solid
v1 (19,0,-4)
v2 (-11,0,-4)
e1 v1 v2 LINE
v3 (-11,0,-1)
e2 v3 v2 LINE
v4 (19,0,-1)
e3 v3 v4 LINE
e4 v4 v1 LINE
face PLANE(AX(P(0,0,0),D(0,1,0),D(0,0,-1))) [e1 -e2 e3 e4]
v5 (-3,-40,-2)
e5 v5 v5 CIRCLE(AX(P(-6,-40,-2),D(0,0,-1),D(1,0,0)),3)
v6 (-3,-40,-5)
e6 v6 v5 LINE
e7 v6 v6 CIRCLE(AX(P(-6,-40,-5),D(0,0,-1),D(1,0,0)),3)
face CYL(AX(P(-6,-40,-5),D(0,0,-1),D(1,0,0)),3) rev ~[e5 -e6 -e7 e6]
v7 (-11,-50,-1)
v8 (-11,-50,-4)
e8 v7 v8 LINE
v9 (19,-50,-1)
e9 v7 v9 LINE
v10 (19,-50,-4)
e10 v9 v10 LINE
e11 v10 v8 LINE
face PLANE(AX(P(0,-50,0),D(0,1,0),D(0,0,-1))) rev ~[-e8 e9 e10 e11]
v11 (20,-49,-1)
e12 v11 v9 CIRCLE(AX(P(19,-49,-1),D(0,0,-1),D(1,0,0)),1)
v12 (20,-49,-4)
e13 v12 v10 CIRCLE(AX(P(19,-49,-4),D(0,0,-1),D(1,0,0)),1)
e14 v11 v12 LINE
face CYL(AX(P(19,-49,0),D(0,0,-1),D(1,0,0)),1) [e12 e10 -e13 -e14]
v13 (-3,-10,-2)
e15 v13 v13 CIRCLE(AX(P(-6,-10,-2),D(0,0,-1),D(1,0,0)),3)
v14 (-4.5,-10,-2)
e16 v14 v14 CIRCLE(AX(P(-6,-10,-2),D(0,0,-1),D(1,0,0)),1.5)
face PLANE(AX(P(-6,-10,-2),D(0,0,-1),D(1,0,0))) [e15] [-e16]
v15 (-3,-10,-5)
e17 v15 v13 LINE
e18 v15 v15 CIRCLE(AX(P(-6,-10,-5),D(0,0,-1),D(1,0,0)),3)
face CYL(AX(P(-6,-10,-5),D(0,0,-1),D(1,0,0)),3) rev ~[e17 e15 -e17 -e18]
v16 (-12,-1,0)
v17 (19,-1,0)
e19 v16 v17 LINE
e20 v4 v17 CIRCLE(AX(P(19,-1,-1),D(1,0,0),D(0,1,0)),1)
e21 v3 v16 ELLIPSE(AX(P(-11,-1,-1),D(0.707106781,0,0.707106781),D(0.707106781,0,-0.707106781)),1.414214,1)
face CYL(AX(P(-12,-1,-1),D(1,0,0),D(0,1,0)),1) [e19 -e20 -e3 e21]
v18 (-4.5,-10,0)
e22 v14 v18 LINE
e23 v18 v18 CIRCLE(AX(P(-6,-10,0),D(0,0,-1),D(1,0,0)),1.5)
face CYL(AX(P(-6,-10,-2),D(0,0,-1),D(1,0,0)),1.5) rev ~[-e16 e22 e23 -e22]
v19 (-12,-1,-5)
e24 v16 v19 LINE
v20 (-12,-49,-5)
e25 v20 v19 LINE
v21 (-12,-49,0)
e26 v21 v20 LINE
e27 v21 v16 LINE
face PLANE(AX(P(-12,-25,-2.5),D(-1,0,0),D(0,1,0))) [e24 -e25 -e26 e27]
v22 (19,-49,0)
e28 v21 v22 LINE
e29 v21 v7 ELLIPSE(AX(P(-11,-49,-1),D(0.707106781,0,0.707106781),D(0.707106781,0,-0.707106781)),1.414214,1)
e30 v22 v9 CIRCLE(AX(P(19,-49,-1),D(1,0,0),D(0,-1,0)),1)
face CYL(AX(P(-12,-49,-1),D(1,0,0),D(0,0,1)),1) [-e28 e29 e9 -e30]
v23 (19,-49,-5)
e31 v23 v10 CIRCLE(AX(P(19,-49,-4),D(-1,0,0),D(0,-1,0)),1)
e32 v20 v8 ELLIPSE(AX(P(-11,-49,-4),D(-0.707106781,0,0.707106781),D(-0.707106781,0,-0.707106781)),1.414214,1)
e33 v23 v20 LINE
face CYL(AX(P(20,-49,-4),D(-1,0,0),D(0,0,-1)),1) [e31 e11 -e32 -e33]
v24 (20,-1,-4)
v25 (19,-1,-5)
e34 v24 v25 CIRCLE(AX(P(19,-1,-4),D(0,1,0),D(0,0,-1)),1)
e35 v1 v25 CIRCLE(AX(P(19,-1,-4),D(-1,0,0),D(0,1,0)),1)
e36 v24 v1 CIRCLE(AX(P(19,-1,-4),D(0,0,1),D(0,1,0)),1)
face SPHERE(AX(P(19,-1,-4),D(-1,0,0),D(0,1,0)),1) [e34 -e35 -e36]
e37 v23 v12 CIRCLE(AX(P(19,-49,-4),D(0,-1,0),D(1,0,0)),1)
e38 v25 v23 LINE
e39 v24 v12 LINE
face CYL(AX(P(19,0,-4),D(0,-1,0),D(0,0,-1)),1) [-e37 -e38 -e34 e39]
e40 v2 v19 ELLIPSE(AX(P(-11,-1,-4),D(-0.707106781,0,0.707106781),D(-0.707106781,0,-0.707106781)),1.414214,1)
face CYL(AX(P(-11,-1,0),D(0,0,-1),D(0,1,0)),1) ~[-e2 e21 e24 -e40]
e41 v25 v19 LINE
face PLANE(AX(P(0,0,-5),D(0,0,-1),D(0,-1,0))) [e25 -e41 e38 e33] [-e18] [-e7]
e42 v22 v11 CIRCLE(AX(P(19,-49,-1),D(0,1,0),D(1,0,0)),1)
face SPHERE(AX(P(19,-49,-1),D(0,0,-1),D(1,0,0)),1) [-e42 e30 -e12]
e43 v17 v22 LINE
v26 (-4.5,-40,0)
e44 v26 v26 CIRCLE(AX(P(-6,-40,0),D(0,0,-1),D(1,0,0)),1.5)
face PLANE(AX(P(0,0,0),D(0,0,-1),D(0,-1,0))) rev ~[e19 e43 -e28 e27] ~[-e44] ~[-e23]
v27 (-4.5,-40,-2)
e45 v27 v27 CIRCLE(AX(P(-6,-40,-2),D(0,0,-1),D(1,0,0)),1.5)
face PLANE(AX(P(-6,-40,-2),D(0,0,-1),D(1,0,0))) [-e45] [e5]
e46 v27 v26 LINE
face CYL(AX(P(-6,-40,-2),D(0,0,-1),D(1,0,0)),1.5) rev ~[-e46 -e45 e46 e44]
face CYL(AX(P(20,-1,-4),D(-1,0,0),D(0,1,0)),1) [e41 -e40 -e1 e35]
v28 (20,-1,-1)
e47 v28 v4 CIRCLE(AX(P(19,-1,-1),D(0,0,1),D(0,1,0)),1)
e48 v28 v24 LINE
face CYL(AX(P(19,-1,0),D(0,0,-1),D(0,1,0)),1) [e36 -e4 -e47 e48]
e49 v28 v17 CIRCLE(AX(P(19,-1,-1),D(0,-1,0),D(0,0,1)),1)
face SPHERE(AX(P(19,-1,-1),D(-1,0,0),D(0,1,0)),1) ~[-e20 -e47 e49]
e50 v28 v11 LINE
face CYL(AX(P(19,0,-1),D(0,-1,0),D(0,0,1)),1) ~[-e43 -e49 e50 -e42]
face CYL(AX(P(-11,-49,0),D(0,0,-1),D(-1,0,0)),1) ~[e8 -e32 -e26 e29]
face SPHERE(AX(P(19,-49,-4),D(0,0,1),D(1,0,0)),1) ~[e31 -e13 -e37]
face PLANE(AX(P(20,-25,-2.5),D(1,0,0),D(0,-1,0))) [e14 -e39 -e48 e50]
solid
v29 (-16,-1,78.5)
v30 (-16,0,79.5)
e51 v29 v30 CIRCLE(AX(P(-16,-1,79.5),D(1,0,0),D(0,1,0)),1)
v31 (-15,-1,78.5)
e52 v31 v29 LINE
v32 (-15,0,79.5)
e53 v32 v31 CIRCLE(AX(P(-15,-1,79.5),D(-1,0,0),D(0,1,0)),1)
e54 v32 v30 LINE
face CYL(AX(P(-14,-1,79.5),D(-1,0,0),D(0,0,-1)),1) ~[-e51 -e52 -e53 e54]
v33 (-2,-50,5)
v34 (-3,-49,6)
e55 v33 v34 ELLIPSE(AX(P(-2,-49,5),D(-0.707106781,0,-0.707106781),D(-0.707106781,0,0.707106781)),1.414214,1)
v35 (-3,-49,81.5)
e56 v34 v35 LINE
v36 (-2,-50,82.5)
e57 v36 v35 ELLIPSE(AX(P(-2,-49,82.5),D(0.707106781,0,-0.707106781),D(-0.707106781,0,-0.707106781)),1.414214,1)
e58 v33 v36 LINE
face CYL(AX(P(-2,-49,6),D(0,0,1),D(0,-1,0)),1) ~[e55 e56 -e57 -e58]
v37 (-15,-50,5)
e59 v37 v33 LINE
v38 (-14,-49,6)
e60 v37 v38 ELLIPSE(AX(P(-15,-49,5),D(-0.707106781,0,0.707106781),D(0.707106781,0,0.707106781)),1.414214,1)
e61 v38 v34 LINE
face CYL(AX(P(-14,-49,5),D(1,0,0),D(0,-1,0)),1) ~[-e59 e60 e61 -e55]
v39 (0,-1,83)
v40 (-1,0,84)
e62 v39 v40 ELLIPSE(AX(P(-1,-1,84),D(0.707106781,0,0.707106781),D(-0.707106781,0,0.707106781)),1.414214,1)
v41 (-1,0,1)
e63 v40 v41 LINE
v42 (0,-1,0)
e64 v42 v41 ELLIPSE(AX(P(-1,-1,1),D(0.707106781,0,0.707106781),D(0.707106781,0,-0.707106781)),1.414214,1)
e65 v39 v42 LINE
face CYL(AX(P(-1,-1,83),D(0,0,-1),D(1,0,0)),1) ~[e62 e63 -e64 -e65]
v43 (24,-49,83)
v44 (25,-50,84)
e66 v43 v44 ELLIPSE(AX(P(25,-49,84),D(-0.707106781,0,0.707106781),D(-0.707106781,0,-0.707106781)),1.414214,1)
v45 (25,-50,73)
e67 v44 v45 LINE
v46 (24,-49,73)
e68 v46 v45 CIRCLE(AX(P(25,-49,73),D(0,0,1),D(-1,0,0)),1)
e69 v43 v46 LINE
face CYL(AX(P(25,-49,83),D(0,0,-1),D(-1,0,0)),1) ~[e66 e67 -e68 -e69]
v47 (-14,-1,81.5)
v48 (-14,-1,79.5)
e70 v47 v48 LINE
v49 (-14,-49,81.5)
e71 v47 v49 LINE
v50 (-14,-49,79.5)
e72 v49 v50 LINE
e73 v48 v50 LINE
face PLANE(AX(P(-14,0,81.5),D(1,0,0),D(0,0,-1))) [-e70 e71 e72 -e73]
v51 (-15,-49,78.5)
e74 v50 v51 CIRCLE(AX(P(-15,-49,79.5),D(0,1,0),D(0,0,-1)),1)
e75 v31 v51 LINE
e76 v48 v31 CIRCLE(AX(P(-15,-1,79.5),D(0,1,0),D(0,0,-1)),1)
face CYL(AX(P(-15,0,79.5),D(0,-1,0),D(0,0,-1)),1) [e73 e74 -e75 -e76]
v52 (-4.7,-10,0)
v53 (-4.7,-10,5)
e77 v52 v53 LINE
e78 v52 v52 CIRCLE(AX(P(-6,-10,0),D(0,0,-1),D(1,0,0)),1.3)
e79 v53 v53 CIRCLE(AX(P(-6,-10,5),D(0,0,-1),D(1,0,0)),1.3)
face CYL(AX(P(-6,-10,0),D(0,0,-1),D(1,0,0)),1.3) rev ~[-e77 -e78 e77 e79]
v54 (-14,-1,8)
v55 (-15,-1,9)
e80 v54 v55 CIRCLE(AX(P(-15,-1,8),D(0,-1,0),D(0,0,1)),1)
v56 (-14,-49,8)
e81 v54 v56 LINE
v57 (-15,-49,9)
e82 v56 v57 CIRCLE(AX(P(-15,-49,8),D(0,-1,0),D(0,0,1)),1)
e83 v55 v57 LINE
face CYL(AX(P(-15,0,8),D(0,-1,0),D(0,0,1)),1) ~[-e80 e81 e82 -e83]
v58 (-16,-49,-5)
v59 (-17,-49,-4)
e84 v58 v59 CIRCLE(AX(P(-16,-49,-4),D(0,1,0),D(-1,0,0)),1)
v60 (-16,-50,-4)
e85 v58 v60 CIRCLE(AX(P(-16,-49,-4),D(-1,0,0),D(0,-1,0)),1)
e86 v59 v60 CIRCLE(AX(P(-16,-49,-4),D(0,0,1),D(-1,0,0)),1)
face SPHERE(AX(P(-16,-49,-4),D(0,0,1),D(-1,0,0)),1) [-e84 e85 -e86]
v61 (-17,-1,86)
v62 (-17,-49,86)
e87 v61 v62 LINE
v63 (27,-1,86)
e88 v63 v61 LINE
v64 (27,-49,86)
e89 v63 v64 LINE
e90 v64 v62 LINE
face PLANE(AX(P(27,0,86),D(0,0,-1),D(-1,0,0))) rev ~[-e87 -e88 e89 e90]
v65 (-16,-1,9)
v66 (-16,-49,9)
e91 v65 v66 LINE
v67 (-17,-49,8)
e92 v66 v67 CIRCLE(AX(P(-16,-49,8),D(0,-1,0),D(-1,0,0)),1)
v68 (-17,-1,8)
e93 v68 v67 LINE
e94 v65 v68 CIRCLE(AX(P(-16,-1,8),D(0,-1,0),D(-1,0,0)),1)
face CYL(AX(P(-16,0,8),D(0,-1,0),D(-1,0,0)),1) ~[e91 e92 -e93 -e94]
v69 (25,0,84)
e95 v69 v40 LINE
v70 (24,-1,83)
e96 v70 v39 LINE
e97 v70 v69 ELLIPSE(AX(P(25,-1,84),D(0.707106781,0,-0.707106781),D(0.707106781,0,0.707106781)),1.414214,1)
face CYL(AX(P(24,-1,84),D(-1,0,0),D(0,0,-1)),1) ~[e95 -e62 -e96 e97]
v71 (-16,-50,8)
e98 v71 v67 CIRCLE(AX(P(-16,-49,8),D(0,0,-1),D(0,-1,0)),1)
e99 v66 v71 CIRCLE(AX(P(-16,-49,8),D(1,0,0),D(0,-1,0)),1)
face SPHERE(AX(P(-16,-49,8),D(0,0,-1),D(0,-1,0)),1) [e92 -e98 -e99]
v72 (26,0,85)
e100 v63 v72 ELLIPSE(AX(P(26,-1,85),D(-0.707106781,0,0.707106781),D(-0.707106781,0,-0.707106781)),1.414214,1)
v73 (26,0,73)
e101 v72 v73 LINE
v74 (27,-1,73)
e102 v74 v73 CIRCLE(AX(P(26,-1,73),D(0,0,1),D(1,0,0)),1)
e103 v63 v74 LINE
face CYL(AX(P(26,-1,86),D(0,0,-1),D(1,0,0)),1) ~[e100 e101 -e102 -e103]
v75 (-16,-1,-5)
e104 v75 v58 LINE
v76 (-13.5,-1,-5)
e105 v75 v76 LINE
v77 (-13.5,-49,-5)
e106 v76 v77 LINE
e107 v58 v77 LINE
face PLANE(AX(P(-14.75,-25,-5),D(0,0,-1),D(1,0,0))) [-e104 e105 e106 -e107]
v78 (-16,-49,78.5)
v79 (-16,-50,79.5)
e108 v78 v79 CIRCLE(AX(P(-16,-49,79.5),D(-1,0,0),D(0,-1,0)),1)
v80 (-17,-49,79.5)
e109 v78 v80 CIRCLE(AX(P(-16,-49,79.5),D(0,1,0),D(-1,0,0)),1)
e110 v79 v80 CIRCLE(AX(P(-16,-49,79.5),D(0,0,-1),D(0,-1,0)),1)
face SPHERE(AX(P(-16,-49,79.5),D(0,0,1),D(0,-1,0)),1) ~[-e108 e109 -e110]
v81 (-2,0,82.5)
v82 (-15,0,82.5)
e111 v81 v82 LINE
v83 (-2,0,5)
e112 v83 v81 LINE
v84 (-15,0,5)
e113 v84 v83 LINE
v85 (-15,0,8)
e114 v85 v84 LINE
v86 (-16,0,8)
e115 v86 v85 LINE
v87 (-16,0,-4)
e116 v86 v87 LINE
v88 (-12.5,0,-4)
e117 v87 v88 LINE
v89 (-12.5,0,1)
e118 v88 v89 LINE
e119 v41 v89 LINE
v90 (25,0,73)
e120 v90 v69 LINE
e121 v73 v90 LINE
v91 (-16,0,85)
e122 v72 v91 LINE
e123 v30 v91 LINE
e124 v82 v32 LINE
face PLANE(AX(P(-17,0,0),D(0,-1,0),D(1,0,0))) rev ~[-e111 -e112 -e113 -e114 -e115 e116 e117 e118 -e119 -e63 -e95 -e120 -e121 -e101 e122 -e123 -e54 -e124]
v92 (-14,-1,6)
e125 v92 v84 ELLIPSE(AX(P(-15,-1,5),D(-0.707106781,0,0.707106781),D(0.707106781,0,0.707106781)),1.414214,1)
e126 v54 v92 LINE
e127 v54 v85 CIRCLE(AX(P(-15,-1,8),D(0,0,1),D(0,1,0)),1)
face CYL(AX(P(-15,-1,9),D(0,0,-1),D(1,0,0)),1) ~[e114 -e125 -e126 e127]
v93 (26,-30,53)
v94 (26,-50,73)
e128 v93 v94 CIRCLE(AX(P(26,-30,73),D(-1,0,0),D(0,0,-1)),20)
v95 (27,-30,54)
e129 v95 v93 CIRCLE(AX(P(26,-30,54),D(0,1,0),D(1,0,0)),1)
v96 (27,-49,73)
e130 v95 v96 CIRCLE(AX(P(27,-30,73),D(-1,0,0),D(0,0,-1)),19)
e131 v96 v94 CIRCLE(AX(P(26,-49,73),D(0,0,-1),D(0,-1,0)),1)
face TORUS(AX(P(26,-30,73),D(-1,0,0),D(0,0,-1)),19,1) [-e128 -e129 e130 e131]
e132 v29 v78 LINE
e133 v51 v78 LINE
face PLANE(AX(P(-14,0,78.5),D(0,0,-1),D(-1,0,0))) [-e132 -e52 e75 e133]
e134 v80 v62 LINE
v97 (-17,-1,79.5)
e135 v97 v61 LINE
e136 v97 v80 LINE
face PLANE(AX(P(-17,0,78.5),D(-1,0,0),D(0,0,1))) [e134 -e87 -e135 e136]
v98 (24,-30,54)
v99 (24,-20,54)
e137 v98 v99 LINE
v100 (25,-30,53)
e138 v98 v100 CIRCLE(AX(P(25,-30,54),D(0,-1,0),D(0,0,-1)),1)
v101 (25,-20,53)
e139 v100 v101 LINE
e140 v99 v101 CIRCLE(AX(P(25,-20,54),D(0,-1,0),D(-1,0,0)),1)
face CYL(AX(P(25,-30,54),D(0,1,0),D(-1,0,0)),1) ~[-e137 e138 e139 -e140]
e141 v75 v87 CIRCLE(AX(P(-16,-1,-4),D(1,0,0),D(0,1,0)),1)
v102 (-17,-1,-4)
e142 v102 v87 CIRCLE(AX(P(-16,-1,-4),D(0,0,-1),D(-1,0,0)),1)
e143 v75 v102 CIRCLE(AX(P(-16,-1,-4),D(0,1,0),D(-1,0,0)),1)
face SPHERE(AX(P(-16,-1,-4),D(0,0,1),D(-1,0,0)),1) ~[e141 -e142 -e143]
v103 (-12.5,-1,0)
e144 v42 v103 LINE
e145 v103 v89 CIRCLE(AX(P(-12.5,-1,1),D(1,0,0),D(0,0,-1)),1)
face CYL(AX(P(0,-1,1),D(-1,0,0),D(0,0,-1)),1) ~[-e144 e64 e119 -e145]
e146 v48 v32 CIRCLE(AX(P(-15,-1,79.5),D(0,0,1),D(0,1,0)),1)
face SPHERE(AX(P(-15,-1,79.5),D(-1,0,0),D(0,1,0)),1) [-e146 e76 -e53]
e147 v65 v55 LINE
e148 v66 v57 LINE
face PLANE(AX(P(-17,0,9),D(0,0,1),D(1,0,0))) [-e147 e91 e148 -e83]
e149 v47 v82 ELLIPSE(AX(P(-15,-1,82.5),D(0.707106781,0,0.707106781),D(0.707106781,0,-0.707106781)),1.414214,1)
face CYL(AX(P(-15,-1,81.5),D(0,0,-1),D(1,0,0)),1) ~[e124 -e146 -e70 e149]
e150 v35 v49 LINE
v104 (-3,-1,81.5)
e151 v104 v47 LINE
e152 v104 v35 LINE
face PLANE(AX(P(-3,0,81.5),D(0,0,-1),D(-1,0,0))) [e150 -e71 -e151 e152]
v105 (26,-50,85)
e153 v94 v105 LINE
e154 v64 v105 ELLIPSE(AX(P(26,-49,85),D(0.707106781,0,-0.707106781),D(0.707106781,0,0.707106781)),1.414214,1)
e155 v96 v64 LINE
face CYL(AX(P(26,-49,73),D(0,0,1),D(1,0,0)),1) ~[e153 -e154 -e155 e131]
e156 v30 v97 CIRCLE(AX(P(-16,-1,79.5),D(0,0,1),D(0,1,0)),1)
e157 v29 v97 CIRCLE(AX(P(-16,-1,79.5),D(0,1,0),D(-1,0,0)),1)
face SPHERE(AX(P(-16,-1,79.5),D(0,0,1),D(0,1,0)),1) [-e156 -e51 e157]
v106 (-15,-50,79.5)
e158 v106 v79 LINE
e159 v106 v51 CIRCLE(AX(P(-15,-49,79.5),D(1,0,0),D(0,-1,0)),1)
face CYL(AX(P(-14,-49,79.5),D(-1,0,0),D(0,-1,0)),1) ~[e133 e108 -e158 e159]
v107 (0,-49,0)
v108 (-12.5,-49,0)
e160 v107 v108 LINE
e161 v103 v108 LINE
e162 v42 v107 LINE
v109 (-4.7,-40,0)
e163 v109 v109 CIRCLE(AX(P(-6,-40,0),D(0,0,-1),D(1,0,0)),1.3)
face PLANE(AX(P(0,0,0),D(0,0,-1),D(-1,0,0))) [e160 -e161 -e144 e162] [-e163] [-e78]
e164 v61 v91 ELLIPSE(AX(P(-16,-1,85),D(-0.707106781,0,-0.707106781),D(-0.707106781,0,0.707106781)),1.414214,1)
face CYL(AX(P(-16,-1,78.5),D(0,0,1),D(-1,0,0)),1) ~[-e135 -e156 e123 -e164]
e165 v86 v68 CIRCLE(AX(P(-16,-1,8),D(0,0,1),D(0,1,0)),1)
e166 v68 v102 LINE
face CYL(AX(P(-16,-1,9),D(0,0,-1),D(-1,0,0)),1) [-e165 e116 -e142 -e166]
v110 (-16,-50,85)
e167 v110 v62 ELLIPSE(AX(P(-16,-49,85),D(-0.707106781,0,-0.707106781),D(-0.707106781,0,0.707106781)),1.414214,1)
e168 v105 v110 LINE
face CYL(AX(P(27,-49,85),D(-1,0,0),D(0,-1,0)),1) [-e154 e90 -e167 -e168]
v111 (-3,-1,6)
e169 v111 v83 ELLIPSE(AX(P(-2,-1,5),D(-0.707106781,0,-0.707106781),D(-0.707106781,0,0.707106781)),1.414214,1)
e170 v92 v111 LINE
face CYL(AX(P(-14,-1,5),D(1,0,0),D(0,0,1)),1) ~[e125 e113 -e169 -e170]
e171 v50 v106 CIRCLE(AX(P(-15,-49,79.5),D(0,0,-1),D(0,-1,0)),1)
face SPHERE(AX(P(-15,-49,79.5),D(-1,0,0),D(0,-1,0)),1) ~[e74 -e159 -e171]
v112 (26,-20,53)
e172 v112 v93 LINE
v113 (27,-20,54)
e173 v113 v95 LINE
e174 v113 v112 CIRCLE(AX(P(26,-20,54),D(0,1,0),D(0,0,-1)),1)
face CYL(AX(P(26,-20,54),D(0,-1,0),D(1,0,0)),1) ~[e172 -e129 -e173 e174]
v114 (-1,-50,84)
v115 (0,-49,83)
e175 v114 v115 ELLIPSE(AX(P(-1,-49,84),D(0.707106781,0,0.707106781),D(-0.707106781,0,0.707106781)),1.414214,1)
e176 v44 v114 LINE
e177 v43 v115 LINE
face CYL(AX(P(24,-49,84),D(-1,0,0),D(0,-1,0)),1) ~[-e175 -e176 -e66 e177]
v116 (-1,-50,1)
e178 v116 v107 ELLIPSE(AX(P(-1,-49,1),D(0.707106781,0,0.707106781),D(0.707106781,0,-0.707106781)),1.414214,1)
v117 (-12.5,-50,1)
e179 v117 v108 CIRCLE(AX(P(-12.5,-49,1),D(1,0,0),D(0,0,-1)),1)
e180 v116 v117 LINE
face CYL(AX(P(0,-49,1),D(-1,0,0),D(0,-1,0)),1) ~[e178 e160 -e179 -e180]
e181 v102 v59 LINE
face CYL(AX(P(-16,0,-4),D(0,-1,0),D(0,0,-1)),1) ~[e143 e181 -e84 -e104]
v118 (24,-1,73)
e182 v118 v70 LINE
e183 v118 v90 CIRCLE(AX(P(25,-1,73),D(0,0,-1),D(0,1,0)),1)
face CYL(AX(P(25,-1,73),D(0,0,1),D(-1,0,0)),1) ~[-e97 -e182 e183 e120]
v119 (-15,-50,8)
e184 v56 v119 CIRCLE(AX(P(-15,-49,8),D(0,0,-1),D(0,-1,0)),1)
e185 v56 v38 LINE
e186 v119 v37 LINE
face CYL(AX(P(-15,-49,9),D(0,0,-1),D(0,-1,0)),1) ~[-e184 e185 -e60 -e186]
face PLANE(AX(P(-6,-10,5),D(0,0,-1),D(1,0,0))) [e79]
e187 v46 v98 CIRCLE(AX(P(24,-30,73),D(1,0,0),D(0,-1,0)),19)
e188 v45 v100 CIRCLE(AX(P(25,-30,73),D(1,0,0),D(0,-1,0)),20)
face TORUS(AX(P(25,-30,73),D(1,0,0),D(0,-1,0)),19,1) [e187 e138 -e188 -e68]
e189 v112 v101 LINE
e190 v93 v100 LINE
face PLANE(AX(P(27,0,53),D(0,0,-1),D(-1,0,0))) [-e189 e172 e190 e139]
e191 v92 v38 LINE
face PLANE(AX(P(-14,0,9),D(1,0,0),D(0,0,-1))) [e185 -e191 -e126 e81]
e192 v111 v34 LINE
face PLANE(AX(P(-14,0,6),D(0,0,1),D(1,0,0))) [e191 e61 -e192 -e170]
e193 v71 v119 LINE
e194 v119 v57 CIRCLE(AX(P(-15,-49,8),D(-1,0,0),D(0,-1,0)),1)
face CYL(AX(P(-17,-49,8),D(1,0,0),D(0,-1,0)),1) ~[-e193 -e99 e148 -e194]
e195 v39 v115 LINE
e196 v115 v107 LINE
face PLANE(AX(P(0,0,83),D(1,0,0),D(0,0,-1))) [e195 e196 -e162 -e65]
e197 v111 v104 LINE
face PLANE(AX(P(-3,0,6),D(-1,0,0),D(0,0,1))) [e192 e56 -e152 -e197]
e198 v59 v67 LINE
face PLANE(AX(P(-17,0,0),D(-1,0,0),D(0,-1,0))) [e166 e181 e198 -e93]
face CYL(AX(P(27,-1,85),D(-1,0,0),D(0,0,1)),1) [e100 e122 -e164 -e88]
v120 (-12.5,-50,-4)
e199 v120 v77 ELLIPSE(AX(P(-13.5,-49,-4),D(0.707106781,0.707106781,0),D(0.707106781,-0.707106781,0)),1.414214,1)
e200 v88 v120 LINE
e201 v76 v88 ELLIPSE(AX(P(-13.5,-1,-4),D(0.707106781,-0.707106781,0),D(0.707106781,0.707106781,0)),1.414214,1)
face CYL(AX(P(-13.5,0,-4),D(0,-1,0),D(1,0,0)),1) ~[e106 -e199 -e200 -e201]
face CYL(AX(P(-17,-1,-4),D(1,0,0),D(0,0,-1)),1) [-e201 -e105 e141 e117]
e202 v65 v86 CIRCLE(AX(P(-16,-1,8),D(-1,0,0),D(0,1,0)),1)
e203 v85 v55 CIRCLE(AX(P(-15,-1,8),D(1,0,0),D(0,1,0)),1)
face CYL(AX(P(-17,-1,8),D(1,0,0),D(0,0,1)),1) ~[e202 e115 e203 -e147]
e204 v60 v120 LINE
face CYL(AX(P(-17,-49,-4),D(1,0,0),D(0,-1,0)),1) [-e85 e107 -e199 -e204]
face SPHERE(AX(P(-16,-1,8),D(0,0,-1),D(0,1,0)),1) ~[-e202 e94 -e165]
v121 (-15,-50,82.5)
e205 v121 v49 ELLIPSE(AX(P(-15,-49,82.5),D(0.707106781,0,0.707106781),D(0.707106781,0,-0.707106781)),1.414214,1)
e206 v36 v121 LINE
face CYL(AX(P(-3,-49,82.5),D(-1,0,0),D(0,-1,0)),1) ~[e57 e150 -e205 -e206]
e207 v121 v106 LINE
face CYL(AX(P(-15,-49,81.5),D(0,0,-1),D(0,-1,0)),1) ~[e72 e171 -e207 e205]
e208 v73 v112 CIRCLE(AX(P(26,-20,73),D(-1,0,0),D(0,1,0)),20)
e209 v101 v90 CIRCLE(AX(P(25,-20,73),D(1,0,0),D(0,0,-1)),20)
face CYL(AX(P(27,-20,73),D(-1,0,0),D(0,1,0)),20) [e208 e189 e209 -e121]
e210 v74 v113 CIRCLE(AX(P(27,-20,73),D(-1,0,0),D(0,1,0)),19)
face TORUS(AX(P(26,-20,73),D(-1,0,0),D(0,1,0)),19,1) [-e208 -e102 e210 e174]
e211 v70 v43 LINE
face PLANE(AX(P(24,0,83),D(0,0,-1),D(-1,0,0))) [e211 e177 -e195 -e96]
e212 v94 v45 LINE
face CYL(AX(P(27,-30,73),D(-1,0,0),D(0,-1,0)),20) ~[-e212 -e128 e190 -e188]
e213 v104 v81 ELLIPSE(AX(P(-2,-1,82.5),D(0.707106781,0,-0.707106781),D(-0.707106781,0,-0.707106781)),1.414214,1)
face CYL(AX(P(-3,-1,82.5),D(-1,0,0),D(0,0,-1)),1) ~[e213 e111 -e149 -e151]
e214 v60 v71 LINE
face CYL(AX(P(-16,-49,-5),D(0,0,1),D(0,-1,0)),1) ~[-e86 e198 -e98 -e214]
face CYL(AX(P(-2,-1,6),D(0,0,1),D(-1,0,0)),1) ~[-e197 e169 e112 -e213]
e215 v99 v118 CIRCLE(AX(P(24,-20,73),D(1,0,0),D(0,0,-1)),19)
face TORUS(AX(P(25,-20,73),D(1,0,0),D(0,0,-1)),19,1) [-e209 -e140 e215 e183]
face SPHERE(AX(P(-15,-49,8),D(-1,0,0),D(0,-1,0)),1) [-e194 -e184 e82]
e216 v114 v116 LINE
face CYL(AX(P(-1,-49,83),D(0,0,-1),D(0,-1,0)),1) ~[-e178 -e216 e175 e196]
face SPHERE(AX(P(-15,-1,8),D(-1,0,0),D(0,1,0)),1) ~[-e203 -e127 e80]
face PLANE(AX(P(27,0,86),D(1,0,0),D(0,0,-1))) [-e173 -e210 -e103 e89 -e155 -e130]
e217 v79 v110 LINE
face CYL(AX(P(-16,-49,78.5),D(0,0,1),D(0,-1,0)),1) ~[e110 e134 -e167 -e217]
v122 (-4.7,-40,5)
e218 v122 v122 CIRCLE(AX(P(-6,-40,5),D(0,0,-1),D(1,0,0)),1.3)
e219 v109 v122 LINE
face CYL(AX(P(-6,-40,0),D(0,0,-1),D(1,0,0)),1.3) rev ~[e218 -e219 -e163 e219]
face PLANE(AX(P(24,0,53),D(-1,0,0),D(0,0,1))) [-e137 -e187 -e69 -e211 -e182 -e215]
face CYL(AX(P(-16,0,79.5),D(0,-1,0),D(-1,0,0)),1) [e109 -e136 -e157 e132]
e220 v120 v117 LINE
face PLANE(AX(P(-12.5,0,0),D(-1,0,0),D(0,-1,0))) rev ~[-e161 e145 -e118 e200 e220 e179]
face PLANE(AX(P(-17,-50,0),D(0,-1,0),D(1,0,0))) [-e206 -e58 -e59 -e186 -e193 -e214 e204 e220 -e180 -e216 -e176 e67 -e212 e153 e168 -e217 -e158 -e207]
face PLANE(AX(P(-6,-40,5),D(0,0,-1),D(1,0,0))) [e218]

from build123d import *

# Parameters (mm, degrees)
PAD_DEPTH       = 50
SKETCH002_W     = 4.5
SKETCH002_H     = 50
PAD003_DEPTH    = 5
SKETCH005_R     = 1.3
POCKET003_DEPTH = 5
FILLET001_R     = 20
FILLET002_R     = 1
SKETCH001_W     = 17
SKETCH001_H     = 50
PAD001_DEPTH    = 5
PAD001_FACE4_W  = 50
PAD001_FACE4_H  = 5
PAD002_DEPTH    = 20
PAD002_FACE3_W  = 50
PAD002_FACE3_H  = 5
POCKET_DEPTH    = 5
SKETCH003_R     = 3
POCKET001_DEPTH = 3
SKETCH004_R     = 1.5
POCKET002_DEPTH = 5
FILLET_R        = 1


with BuildPart() as smartphoneklemme:
    # Sketch → Pad (new body)
    with BuildSketch(Plane.XZ):
        Polygon((0, 0), (-17, 0), (-17, 9), (-14, 9), (-14, 6), (-3, 6), (-3, 81.5), (-14, 81.5), (-14, 78.5), (-17, 78.5), (-17, 86), (-3, 86), (27, 86), (27, 53), (24, 53), (24, 83), (0, 83), align=None)
    extrude(amount=PAD_DEPTH)

    # Sketch002 (on Face1 of Pad) → Pad003 (join)
    with BuildSketch(Plane(origin=(0, 0, 0), x_dir=(1, 0, 0), z_dir=(0, 0, -1))):
        with Locations((-14.75, 25)):
            Rectangle(SKETCH002_W, SKETCH002_H)
    extrude(amount=PAD003_DEPTH)

    # Sketch005 (on Face1 of Pad003) → Pocket003 (cut)
    with BuildSketch(Plane(origin=(0, 0, 0), x_dir=(1, 0, 0), z_dir=(0, 0, -1))):
        with Locations((-6, 40)):
            Circle(SKETCH005_R)
        with Locations((-6, 10)):
            Circle(SKETCH005_R)
    extrude(amount=-POCKET003_DEPTH, mode=Mode.SUBTRACT)

    # Fillet001
    fillet001_edges = [smartphoneklemme.edges().sort_by_distance(p)[0] for p in [
        (25.5, -50, 53),
        (25.5, 0, 53),
    ]]
    fillet(fillet001_edges, radius=FILLET001_R)

    # Fillet002
    fillet002_edges = [smartphoneklemme.edges().sort_by_distance(p)[0] for p in [
        (27, 0, 79.5),
        (25.5, 0, 73),
        (12, 0, 86),
        (24, 0, 78),
        (-10, 0, 86),
        (12, 0, 83),
        (-17, 0, 82.25),
        (0, 0, 41.5),
        (-15.5, 0, 78.5),
        (-6.25, 0, 0),
        (-14, 0, 80),
        (-14.75, 0, 0),
        (-8.5, 0, 81.5),
        (-17, 0, 4.5),
        (-3, 0, 43.75),
        (-15.5, 0, 9),
        (-8.5, 0, 6),
        (-14, 0, 7.5),
        (27, -50, 79.5),
        (25.5, -50, 73),
        (12, -50, 86),
        (24, -50, 78),
        (-10, -50, 86),
        (12, -50, 83),
        (-17, -50, 82.25),
        (0, -50, 41.5),
        (-15.5, -50, 78.5),
        (-6.25, -50, 0),
        (-14, -50, 80),
        (-14.75, -50, 0),
        (-8.5, -50, 81.5),
        (-17, -50, 4.5),
        (-3, -50, 43.75),
        (-15.5, -50, 9),
        (-8.5, -50, 6),
        (-14, -50, 7.5),
        (-14, -25, 78.5),
        (-17, -25, 78.5),
        (-17, -25, -5),
        (-14.75, 0, -5),
        (-12.5, -25, -5),
        (-14.75, -50, -5),
        (-17, -25, 9),
        (-14, -25, 9),
    ]]
    fillet(fillet002_edges, radius=FILLET002_R)


with BuildPart() as klemmplatte:
    # Sketch001 → Pad001 (new body)
    with BuildSketch(Plane.XY):
        with Locations((-8.5, -25)):
            Rectangle(SKETCH001_W, SKETCH001_H)
    extrude(amount=-PAD001_DEPTH)

    # Pad001 Face4 → Pad002 (add)
    with BuildSketch(Plane(origin=(0, -25, -2.5), x_dir=(0, -1, 0), z_dir=(1, 0, 0))):
        Rectangle(PAD001_FACE4_W, PAD001_FACE4_H)
    extrude(amount=PAD002_DEPTH)

    # Pad002 Face3 → Pocket (cut)
    with BuildSketch(Plane(origin=(-17, -25, -2.5), x_dir=(0, 1, 0), z_dir=(-1, 0, 0))):
        Rectangle(PAD002_FACE3_W, PAD002_FACE3_H)
    extrude(amount=-POCKET_DEPTH, mode=Mode.SUBTRACT)

    # Sketch003 (on Face4 of Pocket) → Pocket001 (cut)
    with BuildSketch(Plane(origin=(0, 0, -5), x_dir=(1, 0, 0), z_dir=(0, 0, -1))):
        with Locations((-6, 40)):
            Circle(SKETCH003_R)
        with Locations((-6, 10)):
            Circle(SKETCH003_R)
    extrude(amount=-POCKET001_DEPTH, mode=Mode.SUBTRACT)

    # Sketch004 (on Face13 of Pocket001) → Pocket002 (cut)
    with BuildSketch(Plane(origin=(0, 0, -2), x_dir=(1, 0, 0), z_dir=(0, 0, -1))):
        with Locations((-6, 10)):
            Circle(SKETCH004_R)
        with Locations((-6, 40)):
            Circle(SKETCH004_R)
    extrude(amount=-POCKET002_DEPTH, mode=Mode.SUBTRACT)

    # Fillet
    fillet_edges = [klemmplatte.edges().sort_by_distance(p)[0] for p in [
        (10, 0, 0),
        (10, 0, -5),
        (0, 0, -2.5),
        (20, 0, -2.5),
        (-6, 0, 0),
        (-12, 0, -2.5),
        (-6, 0, -5),
        (20, -50, -2.5),
        (20, -25, 0),
        (20, -25, -5),
        (10, -50, 0),
        (10, -50, -5),
        (0, -50, -2.5),
        (-6, -50, 0),
        (-6, -50, -5),
        (-12, -50, -2.5),
    ]]
    fillet(fillet_edges, radius=FILLET_R)


solid = Compound([smartphoneklemme.part, klemmplatte.part])
